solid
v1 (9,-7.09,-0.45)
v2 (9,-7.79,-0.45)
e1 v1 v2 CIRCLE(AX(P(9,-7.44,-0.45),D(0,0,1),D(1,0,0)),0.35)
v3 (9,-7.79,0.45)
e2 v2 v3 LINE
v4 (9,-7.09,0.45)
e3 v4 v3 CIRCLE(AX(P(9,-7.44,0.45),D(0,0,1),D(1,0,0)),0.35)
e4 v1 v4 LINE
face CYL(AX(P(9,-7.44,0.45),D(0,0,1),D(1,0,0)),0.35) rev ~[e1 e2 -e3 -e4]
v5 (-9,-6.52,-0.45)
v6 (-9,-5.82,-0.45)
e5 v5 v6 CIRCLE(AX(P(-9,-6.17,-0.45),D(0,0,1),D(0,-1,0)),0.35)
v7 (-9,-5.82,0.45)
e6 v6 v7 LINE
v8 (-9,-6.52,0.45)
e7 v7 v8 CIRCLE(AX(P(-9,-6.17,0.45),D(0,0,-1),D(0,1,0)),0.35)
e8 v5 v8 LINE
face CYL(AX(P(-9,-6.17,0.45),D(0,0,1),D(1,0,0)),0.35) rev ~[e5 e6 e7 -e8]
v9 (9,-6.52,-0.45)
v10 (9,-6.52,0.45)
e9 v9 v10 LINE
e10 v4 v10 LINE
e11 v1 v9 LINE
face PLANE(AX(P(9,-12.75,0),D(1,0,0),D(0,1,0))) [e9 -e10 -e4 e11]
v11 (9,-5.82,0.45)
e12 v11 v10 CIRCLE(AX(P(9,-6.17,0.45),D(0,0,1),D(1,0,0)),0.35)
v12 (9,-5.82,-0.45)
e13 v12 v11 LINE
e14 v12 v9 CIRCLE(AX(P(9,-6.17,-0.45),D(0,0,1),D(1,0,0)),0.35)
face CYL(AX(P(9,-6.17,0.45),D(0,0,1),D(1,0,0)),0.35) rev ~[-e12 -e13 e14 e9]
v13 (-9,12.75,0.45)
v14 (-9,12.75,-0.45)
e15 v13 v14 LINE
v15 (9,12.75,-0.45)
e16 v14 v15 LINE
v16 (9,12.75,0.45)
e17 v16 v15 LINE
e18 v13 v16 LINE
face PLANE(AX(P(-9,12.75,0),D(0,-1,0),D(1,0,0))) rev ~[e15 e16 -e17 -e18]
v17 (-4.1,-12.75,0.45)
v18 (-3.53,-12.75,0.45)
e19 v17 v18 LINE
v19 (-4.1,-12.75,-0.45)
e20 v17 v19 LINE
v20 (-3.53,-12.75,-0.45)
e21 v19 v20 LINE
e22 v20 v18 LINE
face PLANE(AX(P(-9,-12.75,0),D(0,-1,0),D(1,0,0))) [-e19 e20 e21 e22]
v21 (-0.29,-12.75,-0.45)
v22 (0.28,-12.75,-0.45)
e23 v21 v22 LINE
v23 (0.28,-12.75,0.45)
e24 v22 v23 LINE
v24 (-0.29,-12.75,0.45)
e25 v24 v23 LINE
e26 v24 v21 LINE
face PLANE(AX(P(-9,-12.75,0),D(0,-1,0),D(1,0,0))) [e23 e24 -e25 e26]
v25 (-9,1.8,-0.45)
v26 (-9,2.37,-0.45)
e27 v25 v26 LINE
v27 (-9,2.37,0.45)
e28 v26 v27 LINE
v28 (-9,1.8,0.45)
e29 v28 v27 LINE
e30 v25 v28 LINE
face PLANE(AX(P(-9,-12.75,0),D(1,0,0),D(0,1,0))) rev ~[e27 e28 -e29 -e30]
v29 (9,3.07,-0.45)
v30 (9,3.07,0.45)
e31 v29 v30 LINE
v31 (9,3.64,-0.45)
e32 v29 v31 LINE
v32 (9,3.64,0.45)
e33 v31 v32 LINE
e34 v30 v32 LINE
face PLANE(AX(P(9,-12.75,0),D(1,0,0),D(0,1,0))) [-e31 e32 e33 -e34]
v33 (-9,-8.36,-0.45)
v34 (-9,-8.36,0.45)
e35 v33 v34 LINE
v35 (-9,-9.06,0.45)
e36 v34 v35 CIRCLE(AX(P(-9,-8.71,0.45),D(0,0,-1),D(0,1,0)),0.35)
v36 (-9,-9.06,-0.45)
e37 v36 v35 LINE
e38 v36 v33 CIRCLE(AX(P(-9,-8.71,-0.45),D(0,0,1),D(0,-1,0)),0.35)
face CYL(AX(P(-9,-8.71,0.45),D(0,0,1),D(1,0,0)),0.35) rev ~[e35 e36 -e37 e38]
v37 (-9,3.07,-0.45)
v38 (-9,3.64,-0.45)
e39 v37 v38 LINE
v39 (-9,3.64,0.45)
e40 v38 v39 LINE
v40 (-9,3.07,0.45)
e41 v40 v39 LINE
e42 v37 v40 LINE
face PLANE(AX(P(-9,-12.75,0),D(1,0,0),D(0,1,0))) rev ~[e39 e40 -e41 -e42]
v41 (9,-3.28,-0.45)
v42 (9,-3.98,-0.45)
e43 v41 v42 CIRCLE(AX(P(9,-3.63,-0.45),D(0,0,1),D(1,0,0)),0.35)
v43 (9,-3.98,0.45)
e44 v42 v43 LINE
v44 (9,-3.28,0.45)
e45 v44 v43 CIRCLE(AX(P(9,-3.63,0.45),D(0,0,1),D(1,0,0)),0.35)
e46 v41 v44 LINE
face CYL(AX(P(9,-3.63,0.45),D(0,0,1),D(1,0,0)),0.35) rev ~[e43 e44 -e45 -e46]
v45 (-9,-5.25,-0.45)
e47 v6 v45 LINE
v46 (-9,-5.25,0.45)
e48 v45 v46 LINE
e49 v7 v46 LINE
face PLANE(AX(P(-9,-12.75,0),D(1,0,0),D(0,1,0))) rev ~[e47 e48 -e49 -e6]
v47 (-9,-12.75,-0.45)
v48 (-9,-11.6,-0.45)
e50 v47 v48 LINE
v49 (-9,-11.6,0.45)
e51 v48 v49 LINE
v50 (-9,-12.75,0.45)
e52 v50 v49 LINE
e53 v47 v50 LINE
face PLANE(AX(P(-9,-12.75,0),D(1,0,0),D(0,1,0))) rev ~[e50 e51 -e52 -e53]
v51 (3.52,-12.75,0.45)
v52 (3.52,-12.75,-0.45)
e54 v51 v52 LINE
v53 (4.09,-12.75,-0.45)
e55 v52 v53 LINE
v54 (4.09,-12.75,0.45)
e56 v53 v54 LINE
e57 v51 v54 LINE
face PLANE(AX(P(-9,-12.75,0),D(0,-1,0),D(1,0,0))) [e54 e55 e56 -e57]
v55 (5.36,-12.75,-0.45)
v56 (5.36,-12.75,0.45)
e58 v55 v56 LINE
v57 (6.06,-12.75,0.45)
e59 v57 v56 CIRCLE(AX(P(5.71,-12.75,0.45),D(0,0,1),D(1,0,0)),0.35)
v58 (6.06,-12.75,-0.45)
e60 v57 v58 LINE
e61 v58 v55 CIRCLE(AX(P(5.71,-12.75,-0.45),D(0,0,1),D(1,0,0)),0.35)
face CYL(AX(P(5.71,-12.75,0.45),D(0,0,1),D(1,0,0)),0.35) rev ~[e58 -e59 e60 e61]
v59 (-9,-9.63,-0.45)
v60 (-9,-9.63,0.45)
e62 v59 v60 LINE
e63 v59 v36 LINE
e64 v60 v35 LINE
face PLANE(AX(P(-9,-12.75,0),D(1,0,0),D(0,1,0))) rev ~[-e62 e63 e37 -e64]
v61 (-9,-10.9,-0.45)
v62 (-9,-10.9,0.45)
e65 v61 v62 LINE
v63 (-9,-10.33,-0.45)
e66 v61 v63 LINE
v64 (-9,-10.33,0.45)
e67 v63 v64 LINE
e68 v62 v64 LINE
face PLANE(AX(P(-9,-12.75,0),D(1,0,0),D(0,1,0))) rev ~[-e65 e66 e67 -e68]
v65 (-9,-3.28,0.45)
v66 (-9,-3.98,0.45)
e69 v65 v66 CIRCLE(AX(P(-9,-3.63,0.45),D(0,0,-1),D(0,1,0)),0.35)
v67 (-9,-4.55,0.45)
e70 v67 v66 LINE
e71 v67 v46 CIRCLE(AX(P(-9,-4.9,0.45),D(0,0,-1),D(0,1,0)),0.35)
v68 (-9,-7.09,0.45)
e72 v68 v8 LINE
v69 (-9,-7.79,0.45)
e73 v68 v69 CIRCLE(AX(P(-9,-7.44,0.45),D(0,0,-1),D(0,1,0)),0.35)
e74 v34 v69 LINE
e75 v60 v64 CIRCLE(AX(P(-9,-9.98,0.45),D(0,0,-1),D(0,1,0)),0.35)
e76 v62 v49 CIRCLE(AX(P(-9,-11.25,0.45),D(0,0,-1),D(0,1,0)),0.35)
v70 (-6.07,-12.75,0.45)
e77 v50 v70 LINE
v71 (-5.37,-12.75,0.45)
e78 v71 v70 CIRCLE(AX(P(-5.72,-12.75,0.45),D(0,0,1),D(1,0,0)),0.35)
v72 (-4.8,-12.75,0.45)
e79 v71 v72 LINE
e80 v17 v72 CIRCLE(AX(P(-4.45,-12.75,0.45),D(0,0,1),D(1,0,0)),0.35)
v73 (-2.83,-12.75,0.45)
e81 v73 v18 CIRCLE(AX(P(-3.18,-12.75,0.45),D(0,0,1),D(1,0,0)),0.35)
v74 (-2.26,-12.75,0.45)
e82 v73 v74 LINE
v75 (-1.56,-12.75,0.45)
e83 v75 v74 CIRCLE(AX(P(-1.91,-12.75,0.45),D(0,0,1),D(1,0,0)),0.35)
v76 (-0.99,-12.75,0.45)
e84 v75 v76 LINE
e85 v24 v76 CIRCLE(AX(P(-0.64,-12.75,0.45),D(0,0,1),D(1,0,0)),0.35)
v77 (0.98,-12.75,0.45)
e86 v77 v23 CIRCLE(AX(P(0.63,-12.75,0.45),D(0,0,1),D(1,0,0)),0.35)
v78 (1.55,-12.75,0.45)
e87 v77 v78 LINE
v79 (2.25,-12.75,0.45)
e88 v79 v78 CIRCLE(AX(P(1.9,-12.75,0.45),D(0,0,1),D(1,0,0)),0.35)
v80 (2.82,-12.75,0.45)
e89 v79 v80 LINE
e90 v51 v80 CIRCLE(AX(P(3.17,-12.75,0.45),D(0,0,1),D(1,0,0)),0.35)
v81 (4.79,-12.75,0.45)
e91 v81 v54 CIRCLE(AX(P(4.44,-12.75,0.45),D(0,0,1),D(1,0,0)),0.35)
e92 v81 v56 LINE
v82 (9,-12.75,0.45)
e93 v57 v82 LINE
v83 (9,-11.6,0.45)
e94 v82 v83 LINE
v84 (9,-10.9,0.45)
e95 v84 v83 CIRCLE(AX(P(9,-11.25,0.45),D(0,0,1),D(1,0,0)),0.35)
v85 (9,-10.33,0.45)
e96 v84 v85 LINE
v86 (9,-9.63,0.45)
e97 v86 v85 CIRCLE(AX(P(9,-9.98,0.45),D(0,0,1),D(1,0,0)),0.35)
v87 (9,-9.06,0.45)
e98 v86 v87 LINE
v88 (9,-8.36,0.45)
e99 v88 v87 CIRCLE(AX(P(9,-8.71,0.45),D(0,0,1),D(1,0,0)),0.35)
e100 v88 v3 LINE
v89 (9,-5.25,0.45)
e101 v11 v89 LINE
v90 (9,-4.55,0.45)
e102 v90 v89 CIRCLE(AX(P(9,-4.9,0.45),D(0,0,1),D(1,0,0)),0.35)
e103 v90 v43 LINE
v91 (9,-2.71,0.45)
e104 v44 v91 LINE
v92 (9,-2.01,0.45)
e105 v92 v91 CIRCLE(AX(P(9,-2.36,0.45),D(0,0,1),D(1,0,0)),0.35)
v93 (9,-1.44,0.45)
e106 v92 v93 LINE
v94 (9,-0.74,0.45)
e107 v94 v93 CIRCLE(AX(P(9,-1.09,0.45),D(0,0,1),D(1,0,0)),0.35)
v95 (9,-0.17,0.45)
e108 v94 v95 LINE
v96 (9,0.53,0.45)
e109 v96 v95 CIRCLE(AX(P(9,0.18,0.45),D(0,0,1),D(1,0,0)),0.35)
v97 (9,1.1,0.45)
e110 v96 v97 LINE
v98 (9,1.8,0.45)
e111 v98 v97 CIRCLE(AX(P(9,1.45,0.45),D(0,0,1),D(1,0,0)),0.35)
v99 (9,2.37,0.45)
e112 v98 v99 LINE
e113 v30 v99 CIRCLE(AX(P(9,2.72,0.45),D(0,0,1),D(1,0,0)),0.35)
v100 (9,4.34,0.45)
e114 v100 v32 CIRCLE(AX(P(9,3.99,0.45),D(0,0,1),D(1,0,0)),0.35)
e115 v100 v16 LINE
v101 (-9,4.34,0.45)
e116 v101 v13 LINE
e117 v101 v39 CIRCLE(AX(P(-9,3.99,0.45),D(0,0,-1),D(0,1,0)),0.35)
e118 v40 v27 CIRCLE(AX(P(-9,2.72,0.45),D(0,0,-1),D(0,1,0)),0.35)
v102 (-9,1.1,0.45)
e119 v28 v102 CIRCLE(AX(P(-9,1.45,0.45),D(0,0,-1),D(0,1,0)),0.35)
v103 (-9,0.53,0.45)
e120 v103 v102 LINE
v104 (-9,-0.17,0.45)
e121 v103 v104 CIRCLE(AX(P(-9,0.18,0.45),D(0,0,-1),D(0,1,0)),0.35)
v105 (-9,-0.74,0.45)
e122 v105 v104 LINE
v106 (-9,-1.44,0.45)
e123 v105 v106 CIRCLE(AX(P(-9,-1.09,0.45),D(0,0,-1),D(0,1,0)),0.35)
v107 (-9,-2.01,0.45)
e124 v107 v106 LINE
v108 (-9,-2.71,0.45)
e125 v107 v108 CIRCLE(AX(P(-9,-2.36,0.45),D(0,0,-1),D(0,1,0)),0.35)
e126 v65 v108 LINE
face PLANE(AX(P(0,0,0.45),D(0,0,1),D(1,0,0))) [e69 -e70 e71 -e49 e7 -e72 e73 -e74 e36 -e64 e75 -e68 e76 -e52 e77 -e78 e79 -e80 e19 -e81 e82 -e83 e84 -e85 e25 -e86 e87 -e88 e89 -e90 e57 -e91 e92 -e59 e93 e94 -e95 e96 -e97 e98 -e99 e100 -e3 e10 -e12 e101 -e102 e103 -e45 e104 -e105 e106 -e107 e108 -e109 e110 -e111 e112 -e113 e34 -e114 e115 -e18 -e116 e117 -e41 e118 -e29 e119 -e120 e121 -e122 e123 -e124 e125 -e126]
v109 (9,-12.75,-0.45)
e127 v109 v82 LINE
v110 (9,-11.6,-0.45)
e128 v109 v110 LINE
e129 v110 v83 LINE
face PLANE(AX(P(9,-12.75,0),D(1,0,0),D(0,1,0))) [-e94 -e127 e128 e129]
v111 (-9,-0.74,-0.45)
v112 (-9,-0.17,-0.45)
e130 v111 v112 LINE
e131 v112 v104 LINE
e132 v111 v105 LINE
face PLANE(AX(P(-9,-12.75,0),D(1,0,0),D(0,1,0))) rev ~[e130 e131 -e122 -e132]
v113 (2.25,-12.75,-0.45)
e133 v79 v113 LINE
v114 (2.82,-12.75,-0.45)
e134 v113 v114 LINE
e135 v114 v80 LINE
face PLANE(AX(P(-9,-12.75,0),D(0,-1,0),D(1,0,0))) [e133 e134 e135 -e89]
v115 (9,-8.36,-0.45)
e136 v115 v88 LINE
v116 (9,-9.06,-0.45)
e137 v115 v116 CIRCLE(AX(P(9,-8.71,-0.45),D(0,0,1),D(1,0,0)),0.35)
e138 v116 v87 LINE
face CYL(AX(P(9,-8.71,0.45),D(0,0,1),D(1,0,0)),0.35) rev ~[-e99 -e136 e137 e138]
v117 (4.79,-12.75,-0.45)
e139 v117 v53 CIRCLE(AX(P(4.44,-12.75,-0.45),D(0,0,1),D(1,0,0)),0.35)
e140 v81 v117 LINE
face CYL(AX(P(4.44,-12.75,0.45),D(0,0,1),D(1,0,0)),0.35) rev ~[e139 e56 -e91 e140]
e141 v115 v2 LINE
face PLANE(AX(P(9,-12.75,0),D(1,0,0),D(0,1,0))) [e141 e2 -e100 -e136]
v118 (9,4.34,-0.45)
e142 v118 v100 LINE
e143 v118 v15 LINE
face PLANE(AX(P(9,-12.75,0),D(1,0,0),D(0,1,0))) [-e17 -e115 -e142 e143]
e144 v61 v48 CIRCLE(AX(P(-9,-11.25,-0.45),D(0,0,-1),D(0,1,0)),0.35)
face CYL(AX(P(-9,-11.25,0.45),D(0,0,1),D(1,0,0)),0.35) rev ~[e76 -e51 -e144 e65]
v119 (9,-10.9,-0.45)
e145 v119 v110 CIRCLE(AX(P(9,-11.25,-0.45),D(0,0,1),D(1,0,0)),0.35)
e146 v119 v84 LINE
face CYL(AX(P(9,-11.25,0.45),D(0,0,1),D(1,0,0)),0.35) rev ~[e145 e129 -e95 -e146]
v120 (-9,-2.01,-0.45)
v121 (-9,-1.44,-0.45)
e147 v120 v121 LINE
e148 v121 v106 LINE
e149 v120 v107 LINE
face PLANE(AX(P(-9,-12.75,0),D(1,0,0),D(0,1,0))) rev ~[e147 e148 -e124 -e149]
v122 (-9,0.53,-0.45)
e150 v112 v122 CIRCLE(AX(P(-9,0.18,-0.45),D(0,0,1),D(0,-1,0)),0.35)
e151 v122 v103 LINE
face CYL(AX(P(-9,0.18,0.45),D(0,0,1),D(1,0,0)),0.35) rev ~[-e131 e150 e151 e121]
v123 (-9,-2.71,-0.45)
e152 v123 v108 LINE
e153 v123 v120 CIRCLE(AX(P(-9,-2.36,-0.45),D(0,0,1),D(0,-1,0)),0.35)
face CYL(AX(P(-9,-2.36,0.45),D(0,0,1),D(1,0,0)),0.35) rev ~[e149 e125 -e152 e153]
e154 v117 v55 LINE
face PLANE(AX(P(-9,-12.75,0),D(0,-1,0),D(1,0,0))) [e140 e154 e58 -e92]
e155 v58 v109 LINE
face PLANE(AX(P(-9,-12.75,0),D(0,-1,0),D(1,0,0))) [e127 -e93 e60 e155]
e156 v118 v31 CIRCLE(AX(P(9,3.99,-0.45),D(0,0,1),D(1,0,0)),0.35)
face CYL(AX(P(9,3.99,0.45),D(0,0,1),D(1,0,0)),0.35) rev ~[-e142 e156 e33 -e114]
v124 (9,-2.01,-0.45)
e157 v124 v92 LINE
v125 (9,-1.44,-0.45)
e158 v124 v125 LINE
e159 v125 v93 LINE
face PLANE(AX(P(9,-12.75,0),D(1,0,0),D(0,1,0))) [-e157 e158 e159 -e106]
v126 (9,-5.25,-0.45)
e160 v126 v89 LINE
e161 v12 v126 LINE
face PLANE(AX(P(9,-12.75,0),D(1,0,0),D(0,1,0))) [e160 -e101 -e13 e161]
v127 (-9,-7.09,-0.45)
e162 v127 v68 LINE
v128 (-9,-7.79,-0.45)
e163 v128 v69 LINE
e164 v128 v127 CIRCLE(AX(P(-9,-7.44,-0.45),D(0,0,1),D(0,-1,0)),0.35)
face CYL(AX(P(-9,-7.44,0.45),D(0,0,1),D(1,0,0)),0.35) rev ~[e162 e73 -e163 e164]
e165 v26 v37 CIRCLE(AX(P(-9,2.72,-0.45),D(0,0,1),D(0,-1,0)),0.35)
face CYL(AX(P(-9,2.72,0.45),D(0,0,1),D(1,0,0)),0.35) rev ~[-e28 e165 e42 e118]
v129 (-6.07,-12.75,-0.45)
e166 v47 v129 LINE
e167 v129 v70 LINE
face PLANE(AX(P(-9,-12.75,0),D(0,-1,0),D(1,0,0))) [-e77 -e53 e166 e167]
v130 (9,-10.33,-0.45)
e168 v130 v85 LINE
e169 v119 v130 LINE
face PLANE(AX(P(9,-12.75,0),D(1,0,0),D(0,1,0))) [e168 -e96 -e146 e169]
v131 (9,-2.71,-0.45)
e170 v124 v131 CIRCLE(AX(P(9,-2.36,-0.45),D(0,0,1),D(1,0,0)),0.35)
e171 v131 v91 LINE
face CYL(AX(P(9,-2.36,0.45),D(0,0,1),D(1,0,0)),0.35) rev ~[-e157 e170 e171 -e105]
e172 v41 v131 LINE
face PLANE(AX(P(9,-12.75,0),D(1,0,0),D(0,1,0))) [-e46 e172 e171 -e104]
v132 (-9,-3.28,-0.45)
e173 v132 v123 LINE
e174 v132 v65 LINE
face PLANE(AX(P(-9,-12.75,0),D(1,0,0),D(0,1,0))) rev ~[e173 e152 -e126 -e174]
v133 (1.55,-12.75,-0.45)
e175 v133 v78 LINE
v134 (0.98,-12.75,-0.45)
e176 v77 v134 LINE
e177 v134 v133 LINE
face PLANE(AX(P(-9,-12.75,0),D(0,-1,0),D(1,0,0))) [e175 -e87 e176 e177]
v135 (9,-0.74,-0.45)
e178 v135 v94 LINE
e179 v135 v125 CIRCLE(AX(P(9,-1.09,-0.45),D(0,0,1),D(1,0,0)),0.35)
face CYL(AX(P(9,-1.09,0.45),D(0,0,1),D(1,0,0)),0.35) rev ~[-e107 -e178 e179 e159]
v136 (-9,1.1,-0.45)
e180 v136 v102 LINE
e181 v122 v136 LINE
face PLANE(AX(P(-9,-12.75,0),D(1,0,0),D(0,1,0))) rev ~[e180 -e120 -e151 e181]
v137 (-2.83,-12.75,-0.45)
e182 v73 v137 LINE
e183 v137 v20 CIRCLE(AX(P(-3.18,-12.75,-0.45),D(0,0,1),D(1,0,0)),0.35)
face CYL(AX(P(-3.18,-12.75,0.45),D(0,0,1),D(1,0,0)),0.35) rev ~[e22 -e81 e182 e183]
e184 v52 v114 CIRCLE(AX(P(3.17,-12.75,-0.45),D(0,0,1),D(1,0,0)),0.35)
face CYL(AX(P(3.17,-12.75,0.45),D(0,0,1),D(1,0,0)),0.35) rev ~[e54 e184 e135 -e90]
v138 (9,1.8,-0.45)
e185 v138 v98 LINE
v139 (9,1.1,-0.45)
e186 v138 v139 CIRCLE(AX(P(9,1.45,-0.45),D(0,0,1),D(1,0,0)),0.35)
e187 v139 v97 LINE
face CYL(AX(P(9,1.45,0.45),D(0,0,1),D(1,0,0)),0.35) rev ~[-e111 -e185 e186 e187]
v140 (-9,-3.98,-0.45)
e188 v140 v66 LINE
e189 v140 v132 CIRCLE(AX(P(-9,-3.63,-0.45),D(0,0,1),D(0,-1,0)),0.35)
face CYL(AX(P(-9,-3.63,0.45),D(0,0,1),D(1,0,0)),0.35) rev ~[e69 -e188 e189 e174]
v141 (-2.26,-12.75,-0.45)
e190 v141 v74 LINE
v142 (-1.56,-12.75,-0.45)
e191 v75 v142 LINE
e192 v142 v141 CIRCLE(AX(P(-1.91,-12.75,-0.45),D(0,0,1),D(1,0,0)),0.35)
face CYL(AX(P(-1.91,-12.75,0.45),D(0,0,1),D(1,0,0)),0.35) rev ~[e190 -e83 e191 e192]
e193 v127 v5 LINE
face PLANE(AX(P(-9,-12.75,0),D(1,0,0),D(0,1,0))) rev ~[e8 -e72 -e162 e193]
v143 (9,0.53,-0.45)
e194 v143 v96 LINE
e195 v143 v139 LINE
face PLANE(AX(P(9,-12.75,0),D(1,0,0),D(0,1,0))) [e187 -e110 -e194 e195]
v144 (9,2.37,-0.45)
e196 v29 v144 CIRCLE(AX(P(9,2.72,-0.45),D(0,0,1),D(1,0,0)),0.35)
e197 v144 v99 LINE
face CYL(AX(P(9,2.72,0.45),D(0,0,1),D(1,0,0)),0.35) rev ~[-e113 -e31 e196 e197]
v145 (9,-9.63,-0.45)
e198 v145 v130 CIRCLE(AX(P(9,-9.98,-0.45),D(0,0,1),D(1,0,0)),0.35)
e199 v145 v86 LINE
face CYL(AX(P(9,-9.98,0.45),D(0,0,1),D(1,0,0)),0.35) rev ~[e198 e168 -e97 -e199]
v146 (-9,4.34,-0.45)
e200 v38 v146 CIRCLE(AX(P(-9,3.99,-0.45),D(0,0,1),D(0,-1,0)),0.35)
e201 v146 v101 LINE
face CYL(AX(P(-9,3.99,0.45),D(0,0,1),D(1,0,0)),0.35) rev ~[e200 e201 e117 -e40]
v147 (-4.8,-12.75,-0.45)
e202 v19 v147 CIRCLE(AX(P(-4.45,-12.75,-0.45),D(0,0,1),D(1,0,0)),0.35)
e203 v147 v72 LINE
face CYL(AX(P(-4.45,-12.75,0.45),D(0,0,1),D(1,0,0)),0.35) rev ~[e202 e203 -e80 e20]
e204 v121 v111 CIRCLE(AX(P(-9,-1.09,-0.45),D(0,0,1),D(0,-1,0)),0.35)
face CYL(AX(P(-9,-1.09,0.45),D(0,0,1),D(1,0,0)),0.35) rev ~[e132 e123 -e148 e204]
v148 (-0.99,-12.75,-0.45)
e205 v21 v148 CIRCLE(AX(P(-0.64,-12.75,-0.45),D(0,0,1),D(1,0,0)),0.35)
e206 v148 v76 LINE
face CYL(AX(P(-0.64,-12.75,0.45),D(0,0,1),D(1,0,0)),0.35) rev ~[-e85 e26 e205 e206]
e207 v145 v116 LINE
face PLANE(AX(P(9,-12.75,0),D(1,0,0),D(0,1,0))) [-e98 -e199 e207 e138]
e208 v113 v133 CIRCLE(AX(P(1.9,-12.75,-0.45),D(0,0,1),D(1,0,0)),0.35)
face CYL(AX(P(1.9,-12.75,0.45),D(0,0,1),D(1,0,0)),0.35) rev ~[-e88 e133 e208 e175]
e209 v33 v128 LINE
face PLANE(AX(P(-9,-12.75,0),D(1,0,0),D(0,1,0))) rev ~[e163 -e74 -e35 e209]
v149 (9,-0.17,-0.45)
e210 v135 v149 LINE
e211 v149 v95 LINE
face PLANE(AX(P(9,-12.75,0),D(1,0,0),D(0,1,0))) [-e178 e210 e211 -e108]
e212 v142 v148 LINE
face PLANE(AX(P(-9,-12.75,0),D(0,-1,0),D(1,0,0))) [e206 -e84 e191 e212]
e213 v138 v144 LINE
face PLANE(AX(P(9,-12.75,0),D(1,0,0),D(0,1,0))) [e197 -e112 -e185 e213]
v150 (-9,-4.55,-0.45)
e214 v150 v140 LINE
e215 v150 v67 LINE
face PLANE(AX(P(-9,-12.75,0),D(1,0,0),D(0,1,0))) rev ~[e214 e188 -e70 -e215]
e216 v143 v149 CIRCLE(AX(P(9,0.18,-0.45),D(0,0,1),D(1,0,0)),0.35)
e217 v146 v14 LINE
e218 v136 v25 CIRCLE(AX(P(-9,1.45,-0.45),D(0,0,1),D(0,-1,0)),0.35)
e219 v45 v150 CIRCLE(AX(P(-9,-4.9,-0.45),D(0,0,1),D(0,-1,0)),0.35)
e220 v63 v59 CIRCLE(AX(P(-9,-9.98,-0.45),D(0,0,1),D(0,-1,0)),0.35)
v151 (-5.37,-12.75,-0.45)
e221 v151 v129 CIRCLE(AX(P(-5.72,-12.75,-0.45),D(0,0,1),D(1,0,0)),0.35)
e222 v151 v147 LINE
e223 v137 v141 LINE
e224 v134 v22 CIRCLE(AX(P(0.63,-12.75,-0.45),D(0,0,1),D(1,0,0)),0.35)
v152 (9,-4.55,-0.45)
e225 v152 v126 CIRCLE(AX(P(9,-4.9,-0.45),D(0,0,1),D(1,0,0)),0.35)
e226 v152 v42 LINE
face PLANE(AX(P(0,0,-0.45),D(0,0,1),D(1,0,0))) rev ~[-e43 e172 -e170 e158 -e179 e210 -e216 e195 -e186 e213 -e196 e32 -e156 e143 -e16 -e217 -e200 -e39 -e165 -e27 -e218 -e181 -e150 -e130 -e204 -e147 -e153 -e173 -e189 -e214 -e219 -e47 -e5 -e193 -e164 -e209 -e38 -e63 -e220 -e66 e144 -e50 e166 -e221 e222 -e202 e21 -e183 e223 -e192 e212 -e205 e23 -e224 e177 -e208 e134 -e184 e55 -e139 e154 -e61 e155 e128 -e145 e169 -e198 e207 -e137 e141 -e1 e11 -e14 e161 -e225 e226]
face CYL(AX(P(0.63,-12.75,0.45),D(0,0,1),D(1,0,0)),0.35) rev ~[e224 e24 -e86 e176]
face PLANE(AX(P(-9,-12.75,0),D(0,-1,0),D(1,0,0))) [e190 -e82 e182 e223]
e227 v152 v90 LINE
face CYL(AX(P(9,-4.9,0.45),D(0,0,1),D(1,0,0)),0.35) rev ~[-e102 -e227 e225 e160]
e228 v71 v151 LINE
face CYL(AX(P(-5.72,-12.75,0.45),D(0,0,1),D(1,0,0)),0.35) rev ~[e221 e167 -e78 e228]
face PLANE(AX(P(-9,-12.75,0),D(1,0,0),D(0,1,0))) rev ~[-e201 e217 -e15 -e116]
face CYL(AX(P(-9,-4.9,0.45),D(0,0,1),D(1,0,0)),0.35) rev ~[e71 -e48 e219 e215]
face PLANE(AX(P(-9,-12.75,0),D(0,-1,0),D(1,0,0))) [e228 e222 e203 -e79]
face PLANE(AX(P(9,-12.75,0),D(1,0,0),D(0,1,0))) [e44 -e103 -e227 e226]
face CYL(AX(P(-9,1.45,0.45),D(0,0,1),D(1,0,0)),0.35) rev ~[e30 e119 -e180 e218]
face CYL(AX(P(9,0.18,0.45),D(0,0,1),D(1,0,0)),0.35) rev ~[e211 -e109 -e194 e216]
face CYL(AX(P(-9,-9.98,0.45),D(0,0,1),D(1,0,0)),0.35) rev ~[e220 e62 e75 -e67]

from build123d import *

# Parameters (mm, degrees)
ESBO_O1_W                = 18
ESBO_O1_H                = 25.5
RESSALTO_EXTRUS_O1_DEPTH = 0.45
ESBO_O2_R                = 0.35
CORTE_EXTRUS_O1_DEPTH    = 16.632418239
ESBO_O3_R                = 0.35
CORTE_EXTRUS_O2_DEPTH    = 16.632418239


with BuildPart() as part:
    # Esboço1 → Ressalto-extrusão1 (new, symmetric)
    with BuildSketch(Plane.XY):
        Rectangle(ESBO_O1_W, ESBO_O1_H)
    extrude(amount=RESSALTO_EXTRUS_O1_DEPTH, both=True)

    # Esboço2 → Corte-extrusão1 (cut, through all)
    with BuildSketch(Plane.XY.offset(0.45)):
        with Locations((-5.72, -12.75)):
            Circle(ESBO_O2_R)
        with Locations((-4.45, -12.75)):
            Circle(ESBO_O2_R)
        with Locations((-3.18, -12.75)):
            Circle(ESBO_O2_R)
        with Locations((-1.91, -12.75)):
            Circle(ESBO_O2_R)
        with Locations((-0.64, -12.75)):
            Circle(ESBO_O2_R)
        with Locations((0.63, -12.75)):
            Circle(ESBO_O2_R)
        with Locations((1.9, -12.75)):
            Circle(ESBO_O2_R)
        with Locations((3.17, -12.75)):
            Circle(ESBO_O2_R)
        with Locations((4.44, -12.75)):
            Circle(ESBO_O2_R)
        with Locations((5.71, -12.75)):
            Circle(ESBO_O2_R)
    extrude(amount=-CORTE_EXTRUS_O1_DEPTH, mode=Mode.SUBTRACT)

    # Esboço3 → Corte-extrusão2 (cut, through all)
    with BuildSketch(Plane.XY.offset(0.45)):
        with Locations((-9, -11.25)):
            Circle(ESBO_O3_R)
        with Locations((-9, -9.98)):
            Circle(ESBO_O3_R)
        with Locations((-9, -8.71)):
            Circle(ESBO_O3_R)
        with Locations((-9, -7.44)):
            Circle(ESBO_O3_R)
        with Locations((-9, -6.17)):
            Circle(ESBO_O3_R)
        with Locations((-9, -4.9)):
            Circle(ESBO_O3_R)
        with Locations((-9, -3.63)):
            Circle(ESBO_O3_R)
        with Locations((-9, -2.36)):
            Circle(ESBO_O3_R)
        with Locations((-9, -1.09)):
            Circle(ESBO_O3_R)
        with Locations((-9, 0.18)):
            Circle(ESBO_O3_R)
        with Locations((-9, 1.45)):
            Circle(ESBO_O3_R)
        with Locations((-9, 2.72)):
            Circle(ESBO_O3_R)
        with Locations((-9, 3.99)):
            Circle(ESBO_O3_R)
        with Locations((9, 3.99)):
            Circle(ESBO_O3_R)
        with Locations((9, 2.72)):
            Circle(ESBO_O3_R)
        with Locations((9, 1.45)):
            Circle(ESBO_O3_R)
        with Locations((9, 0.18)):
            Circle(ESBO_O3_R)
        with Locations((9, -1.09)):
            Circle(ESBO_O3_R)
        with Locations((9, -2.36)):
            Circle(ESBO_O3_R)
        with Locations((9, -3.63)):
            Circle(ESBO_O3_R)
        with Locations((9, -4.9)):
            Circle(ESBO_O3_R)
        with Locations((9, -6.17)):
            Circle(ESBO_O3_R)
        with Locations((9, -7.44)):
            Circle(ESBO_O3_R)
        with Locations((9, -8.71)):
            Circle(ESBO_O3_R)
        with Locations((9, -9.98)):
            Circle(ESBO_O3_R)
        with Locations((9, -11.25)):
            Circle(ESBO_O3_R)
    extrude(amount=-CORTE_EXTRUS_O2_DEPTH, mode=Mode.SUBTRACT)


solid = part.part
